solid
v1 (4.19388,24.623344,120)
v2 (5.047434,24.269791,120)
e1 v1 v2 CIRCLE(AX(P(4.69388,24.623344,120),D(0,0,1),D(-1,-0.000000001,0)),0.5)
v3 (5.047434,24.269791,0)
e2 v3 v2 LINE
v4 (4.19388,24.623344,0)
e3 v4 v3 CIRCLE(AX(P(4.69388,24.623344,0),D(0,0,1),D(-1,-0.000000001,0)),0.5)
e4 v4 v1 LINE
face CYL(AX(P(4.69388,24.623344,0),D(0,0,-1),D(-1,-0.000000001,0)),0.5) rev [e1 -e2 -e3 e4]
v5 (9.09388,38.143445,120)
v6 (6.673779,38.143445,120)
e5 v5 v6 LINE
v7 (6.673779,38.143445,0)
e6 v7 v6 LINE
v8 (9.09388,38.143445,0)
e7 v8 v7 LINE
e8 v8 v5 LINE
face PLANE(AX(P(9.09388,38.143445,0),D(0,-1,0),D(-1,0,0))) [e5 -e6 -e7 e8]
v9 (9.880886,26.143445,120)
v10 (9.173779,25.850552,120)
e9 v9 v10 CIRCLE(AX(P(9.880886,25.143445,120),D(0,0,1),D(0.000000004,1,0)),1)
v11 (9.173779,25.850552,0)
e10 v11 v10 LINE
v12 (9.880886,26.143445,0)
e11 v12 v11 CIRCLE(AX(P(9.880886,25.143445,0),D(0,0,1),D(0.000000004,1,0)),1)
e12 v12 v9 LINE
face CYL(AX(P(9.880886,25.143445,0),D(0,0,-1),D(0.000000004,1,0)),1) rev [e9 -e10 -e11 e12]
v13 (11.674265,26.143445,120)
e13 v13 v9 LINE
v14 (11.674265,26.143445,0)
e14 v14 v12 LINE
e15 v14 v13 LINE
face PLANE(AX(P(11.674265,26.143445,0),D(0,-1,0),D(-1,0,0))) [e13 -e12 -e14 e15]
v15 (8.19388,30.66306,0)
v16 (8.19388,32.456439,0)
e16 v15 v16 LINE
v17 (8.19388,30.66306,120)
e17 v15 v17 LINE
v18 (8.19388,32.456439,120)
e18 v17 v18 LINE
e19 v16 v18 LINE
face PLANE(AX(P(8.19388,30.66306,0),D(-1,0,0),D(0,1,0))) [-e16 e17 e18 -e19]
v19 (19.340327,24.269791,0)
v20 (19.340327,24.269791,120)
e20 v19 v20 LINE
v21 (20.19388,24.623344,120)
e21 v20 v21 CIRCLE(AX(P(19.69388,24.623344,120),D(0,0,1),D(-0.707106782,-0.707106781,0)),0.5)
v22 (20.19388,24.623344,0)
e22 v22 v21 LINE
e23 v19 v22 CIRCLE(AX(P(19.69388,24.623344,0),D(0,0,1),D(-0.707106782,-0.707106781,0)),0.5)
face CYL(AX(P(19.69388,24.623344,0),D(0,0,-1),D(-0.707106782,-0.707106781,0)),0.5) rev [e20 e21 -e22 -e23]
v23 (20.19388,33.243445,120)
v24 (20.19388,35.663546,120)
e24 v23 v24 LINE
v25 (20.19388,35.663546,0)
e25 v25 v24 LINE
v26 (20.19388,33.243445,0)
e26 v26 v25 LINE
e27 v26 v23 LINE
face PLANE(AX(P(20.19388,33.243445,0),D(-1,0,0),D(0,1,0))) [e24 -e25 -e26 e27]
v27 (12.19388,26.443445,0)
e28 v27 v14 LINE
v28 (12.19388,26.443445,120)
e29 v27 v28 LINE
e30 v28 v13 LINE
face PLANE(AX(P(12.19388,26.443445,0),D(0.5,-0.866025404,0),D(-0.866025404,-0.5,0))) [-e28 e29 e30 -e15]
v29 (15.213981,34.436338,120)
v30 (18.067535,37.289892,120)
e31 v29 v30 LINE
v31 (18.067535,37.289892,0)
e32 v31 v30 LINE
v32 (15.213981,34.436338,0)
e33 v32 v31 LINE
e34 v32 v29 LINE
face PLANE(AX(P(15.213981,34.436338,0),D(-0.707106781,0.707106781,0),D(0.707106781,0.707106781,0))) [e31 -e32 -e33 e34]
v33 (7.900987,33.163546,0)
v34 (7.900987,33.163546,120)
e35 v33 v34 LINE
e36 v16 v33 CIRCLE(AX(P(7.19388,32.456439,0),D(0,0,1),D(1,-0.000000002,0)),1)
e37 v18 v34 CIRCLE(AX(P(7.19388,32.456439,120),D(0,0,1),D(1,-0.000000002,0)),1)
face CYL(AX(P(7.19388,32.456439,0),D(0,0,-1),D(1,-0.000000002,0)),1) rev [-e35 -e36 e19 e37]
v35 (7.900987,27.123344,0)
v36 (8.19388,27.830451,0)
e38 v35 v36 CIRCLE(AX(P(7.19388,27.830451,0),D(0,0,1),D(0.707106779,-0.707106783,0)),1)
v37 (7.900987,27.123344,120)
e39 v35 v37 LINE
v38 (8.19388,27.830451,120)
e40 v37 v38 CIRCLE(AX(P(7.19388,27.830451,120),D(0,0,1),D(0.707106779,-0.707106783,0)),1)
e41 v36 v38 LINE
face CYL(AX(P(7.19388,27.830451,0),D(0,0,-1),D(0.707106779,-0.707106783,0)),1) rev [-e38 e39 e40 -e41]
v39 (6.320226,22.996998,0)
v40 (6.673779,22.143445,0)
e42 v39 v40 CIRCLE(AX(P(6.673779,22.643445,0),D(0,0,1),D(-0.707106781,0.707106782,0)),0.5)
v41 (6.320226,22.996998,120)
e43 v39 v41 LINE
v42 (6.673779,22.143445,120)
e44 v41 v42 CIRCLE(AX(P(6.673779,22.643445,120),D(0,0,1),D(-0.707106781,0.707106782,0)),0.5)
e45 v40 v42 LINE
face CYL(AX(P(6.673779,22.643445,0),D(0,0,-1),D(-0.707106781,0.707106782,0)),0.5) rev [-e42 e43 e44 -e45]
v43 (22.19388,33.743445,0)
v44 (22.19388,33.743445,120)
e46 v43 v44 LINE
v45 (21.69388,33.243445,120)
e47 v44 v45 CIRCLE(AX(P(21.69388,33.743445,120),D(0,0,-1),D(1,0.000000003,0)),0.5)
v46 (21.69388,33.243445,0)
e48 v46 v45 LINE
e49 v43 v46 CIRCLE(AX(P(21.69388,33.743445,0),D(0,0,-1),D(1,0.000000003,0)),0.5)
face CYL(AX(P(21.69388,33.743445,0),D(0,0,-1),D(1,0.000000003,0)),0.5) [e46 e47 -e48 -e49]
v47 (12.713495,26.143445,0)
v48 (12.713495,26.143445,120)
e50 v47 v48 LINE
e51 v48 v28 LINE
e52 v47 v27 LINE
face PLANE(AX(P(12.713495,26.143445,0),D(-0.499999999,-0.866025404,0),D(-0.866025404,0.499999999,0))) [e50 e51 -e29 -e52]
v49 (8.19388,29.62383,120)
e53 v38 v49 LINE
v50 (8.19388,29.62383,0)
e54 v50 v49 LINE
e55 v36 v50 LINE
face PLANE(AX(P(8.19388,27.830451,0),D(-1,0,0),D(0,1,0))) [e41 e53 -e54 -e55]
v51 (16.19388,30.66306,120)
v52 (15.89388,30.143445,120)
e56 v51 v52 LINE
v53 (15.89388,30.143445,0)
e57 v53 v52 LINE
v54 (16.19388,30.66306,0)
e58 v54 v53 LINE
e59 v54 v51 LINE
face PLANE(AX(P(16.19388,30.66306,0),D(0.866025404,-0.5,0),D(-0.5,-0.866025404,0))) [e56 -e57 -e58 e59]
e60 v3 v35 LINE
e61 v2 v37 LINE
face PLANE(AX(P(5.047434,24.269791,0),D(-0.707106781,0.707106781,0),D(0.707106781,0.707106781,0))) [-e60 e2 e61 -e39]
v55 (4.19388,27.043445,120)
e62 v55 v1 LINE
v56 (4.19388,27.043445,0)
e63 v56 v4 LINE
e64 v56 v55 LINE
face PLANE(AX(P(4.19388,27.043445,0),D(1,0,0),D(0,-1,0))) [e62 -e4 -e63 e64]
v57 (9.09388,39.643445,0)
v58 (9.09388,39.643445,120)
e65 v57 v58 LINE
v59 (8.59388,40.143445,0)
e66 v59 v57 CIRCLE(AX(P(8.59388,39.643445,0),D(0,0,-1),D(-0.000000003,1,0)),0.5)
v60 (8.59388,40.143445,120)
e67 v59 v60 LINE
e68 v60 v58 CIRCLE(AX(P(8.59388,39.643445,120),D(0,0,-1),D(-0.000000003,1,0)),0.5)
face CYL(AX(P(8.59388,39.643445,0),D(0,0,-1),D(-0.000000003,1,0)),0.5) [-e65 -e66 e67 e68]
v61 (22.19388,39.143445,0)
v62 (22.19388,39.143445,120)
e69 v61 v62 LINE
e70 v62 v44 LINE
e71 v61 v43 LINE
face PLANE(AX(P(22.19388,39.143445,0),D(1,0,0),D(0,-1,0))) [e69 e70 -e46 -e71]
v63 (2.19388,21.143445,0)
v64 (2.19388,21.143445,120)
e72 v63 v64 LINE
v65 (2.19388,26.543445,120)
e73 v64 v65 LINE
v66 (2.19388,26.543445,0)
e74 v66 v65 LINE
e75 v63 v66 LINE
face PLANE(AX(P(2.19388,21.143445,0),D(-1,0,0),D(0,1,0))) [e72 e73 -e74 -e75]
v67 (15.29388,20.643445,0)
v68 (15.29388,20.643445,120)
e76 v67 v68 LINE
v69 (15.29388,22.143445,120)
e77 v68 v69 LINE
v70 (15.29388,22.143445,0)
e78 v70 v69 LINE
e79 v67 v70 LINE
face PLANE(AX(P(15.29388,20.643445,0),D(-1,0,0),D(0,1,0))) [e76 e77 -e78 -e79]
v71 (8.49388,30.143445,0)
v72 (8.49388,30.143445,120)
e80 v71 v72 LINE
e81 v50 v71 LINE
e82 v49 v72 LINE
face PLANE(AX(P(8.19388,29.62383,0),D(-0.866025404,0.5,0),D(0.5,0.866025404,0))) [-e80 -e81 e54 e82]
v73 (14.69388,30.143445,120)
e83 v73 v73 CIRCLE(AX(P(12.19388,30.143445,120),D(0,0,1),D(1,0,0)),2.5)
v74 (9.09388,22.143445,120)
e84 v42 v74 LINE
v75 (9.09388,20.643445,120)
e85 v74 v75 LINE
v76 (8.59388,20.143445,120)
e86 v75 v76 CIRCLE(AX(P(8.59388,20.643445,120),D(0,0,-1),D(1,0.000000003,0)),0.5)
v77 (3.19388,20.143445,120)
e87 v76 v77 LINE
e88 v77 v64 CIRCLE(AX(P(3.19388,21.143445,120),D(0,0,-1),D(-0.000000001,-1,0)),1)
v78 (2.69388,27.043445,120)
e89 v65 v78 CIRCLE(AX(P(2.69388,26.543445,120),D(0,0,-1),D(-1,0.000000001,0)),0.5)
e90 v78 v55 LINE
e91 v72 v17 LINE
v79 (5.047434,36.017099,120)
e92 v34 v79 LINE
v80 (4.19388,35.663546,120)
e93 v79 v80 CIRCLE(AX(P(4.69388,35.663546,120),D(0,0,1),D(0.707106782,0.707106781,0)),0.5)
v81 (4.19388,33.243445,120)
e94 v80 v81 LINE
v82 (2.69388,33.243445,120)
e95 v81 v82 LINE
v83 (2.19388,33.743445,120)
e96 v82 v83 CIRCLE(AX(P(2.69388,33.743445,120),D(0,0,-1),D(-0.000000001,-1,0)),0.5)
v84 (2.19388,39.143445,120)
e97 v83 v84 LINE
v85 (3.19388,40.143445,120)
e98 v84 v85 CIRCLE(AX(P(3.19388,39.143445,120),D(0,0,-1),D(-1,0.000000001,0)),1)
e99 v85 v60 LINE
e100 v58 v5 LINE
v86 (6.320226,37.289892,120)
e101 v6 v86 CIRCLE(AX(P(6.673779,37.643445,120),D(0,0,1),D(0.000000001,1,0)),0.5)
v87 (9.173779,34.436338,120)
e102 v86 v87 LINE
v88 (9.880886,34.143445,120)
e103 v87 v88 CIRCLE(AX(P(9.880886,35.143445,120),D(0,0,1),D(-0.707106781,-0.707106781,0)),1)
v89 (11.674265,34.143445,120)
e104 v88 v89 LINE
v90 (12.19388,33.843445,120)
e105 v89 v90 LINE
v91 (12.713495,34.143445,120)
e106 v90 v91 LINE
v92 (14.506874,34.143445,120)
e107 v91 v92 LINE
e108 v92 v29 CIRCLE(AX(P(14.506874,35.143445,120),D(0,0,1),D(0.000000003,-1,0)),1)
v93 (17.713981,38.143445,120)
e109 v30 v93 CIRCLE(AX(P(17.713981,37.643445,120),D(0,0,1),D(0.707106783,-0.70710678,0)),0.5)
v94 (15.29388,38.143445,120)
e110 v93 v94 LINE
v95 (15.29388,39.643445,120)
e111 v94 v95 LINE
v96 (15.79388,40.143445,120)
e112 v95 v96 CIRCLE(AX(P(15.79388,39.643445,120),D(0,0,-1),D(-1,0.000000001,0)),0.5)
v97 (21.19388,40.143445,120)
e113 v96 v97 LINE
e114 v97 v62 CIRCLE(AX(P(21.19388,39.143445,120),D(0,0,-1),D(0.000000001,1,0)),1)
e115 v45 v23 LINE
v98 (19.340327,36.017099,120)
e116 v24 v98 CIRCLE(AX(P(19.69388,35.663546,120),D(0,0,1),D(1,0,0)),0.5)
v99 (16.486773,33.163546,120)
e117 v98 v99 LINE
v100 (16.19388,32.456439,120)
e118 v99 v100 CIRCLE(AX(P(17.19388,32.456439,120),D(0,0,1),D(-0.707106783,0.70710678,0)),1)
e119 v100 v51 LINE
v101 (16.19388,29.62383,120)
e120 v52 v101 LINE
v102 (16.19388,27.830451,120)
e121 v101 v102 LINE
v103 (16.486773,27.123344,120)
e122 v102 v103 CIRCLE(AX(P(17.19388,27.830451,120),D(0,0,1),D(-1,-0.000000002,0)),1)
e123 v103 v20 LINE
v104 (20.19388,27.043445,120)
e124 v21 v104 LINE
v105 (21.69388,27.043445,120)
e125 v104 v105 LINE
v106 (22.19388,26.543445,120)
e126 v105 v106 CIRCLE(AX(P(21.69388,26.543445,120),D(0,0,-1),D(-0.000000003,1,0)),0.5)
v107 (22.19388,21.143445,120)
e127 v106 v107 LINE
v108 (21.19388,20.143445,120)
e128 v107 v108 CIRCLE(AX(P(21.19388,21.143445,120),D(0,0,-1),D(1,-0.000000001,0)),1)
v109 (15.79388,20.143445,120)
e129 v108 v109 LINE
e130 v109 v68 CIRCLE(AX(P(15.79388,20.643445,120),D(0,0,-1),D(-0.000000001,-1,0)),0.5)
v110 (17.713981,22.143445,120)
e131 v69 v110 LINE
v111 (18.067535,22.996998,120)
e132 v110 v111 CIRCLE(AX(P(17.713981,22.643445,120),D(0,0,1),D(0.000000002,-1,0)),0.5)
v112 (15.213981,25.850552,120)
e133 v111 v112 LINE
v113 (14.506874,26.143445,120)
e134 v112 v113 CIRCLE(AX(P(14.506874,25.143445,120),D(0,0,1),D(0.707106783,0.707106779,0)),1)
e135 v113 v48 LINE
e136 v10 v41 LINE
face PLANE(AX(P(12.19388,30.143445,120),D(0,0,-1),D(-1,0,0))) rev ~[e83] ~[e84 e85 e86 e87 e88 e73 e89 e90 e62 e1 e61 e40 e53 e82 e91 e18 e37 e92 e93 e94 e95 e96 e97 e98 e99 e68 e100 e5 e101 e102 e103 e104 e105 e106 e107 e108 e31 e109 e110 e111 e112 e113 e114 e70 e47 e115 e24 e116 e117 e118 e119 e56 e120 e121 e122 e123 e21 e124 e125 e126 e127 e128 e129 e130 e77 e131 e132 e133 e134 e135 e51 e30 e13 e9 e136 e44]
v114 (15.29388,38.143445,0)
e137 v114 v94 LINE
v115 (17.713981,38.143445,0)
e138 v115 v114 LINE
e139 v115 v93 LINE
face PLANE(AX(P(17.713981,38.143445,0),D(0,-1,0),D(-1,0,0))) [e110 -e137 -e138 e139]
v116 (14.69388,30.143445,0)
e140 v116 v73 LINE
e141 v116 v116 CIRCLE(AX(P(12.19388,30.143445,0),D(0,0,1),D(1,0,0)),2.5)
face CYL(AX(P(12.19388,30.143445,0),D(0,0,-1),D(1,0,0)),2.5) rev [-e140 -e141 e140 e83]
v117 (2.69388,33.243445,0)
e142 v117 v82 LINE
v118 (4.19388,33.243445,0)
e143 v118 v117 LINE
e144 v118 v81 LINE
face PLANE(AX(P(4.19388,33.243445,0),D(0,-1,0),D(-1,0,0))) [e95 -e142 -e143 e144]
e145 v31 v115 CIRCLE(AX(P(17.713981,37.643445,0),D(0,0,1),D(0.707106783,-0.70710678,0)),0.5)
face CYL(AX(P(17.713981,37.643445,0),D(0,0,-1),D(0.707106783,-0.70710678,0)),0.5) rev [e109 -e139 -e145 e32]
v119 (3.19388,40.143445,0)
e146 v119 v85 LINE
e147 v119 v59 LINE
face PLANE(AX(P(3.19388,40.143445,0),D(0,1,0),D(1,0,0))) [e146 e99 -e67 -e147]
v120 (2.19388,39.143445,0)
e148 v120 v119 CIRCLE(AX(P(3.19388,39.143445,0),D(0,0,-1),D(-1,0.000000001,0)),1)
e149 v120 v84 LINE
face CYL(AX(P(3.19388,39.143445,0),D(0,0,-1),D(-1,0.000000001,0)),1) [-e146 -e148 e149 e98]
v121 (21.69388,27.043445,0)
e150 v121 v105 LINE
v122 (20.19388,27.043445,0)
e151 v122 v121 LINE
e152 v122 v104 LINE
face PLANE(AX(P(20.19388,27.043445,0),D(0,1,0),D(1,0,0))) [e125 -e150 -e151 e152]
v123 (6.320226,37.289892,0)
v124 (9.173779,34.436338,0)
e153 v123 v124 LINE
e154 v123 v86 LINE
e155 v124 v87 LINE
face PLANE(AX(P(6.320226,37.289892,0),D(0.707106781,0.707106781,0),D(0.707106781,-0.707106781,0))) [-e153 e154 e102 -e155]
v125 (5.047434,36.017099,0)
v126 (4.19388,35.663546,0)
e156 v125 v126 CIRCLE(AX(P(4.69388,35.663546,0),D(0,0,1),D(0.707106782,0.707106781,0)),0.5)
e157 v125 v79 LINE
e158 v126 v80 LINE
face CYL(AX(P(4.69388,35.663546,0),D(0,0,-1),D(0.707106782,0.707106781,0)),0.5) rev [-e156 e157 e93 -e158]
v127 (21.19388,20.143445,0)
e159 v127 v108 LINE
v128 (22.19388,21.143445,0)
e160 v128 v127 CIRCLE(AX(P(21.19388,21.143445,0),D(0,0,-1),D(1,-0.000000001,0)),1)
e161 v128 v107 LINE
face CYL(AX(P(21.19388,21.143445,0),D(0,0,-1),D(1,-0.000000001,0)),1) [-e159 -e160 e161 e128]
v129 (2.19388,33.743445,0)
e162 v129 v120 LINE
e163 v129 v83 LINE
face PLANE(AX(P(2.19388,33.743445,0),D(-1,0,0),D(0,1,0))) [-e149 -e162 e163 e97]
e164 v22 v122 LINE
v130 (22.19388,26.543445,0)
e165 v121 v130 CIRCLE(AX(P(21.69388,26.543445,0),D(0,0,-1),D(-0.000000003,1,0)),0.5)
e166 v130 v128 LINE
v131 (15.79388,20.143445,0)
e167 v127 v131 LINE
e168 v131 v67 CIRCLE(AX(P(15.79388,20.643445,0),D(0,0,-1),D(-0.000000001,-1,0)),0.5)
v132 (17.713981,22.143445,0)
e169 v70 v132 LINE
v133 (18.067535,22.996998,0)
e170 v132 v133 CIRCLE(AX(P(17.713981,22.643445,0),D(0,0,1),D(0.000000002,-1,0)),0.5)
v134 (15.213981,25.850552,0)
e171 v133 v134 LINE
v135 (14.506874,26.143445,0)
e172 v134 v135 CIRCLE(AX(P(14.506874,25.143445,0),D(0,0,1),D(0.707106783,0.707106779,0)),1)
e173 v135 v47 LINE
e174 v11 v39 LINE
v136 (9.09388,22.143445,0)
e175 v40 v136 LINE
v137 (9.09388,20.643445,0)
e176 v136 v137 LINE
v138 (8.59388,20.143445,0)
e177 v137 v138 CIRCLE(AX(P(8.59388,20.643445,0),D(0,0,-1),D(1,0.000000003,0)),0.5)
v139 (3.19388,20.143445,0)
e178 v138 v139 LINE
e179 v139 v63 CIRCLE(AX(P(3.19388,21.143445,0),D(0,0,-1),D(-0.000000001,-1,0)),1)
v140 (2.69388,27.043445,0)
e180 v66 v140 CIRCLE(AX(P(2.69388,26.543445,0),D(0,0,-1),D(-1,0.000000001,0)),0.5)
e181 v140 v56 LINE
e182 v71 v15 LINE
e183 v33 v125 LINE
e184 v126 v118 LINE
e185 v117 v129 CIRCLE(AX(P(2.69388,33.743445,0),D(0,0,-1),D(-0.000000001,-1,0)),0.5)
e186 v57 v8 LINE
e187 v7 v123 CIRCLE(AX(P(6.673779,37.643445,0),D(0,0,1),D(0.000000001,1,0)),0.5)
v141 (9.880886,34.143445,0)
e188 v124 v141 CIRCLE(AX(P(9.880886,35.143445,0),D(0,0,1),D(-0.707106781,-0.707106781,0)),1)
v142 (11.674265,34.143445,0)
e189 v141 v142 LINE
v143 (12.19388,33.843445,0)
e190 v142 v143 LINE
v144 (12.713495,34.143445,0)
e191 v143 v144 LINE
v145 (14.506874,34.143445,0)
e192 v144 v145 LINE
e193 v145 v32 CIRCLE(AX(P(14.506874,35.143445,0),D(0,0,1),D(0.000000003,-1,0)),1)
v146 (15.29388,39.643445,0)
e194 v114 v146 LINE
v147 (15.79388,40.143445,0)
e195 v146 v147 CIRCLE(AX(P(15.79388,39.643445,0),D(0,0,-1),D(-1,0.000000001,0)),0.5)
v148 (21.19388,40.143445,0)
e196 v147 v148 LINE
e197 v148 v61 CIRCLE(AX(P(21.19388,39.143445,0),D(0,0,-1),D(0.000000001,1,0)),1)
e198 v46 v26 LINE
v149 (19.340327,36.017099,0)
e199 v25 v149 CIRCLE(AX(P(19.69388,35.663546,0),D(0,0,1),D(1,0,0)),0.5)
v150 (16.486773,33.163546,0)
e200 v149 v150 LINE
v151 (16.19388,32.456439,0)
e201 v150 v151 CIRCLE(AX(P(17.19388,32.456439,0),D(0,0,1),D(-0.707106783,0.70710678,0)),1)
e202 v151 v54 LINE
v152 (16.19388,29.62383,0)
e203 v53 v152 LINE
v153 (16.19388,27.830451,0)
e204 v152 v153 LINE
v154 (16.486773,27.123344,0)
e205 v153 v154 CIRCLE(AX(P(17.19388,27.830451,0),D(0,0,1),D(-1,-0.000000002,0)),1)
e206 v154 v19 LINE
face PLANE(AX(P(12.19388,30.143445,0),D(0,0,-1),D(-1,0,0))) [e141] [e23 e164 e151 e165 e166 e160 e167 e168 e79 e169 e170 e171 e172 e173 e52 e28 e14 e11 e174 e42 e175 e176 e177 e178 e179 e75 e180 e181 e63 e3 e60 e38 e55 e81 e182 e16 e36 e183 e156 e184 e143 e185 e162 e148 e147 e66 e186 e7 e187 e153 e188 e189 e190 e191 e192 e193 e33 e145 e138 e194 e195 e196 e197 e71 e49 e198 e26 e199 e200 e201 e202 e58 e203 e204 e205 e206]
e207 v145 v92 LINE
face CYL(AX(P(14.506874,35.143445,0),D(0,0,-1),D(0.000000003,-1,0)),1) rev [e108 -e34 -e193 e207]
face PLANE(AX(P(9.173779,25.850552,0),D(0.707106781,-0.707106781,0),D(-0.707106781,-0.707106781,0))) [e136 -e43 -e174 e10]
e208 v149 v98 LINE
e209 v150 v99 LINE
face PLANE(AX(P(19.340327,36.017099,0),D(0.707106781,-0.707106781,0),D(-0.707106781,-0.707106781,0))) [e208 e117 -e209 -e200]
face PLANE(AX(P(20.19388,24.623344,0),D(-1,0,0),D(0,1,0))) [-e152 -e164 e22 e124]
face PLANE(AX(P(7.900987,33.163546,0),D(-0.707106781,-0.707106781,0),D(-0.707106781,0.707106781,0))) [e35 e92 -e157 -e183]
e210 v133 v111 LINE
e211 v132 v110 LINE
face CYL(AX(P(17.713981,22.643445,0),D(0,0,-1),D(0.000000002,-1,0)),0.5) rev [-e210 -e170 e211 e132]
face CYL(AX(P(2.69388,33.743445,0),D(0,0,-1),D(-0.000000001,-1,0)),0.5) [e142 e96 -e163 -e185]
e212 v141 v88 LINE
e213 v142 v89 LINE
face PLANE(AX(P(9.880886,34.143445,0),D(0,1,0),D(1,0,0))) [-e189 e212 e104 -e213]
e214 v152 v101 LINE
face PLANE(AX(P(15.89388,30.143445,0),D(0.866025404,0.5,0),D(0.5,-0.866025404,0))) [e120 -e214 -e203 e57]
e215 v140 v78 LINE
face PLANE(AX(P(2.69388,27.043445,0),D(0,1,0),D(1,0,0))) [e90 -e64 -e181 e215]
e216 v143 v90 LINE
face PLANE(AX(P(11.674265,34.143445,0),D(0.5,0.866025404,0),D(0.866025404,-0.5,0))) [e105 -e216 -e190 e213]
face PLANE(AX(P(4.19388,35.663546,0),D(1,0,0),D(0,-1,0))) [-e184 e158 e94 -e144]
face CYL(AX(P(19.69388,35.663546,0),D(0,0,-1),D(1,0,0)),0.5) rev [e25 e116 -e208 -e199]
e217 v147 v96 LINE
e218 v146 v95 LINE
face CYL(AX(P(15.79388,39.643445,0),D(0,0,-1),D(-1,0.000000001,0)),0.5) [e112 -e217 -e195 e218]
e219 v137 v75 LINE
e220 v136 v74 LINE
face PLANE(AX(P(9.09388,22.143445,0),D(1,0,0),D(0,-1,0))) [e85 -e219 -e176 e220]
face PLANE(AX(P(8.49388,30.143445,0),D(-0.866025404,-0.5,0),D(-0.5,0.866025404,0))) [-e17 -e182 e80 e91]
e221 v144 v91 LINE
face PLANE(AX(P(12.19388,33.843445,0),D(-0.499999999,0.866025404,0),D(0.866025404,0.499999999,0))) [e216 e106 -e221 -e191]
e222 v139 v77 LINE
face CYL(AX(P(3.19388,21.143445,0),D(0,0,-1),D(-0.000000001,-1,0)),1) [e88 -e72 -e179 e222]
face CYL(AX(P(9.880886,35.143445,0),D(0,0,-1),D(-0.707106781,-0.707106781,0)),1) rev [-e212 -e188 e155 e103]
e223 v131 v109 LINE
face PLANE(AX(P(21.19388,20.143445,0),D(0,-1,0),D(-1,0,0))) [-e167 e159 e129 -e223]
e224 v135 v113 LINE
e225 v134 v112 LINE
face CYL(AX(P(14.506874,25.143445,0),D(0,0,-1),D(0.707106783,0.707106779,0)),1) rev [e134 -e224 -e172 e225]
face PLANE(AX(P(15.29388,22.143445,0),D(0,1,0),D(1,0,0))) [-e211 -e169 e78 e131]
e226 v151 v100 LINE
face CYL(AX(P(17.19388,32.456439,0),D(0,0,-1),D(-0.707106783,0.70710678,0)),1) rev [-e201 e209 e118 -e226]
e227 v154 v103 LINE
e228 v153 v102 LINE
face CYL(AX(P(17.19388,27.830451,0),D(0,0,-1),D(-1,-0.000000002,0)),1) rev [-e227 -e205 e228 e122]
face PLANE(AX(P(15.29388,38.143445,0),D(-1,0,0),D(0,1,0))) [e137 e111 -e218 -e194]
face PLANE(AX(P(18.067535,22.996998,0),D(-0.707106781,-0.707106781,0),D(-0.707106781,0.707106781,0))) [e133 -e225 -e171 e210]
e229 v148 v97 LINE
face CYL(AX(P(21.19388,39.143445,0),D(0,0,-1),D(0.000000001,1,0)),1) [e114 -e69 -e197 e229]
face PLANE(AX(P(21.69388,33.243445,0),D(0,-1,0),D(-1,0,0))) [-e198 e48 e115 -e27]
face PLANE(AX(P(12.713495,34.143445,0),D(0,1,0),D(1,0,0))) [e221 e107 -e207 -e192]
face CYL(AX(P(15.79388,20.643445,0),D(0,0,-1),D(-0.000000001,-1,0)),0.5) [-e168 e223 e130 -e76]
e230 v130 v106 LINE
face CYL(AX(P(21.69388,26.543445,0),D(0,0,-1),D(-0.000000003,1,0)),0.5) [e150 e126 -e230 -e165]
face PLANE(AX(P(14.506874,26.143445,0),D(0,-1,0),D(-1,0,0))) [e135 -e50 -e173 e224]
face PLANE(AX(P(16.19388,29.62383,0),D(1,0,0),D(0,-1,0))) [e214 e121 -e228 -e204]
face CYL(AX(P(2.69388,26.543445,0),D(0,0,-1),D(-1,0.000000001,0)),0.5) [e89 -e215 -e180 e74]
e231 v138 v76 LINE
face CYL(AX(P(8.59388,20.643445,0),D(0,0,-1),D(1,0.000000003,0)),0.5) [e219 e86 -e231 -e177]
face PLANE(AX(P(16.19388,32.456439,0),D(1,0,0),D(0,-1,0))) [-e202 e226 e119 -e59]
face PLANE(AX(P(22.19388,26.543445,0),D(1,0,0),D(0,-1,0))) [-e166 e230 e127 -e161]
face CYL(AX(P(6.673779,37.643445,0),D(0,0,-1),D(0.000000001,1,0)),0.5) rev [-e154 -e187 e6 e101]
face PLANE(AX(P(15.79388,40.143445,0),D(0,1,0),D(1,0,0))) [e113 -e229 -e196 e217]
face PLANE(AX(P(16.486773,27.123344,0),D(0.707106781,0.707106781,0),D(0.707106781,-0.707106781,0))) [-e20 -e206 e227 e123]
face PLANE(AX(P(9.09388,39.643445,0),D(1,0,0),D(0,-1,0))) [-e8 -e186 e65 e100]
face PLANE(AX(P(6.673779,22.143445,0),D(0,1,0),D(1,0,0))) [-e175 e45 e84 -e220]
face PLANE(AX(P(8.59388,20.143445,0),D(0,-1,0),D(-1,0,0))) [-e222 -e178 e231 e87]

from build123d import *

# Parameters (mm, degrees)
SKETCH_1_R      = 2.5
EXTRUDE_1_DEPTH = 120


with BuildPart() as part:
    # 草图1 → 凸台-拉伸1 (new body)
    with BuildSketch(Plane.XY):
        with BuildLine():
            Line((16.486773435, 27.123343944), (19.340326826, 24.269790554))
            ThreePointArc((19.340326826, 24.269790554), (19.885221932, 24.161404178), (20.193880216, 24.623343944))
            Line((20.193880216, 24.623343944), (20.193880216, 27.043444957))
            Line((20.193880216, 27.043444957), (21.693880216, 27.043444957))
            ThreePointArc((21.693880216, 27.043444957), (22.047433607, 26.896998348), (22.193880216, 26.543444957))
            Line((22.193880216, 26.543444957), (22.193880216, 21.143444957))
            ThreePointArc((22.193880216, 21.143444957), (21.900986997, 20.436338176), (21.193880216, 20.143444957))
            Line((21.193880216, 20.143444957), (15.793880216, 20.143444957))
            ThreePointArc((15.793880216, 20.143444957), (15.440326826, 20.289891566), (15.293880216, 20.643444957))
            Line((15.293880216, 20.643444957), (15.293880216, 22.143444957))
            Line((15.293880216, 22.143444957), (17.713981229, 22.143444957))
            ThreePointArc((17.713981229, 22.143444957), (18.175920995, 22.452103241), (18.06753462, 22.996998348))
            Line((18.06753462, 22.996998348), (15.213981229, 25.850551738))
            ThreePointArc((15.213981229, 25.850551738), (14.88955788, 26.06732449), (14.506874448, 26.143444957))
            Line((14.506874448, 26.143444957), (12.713495459, 26.143444957))
            Line((12.713495459, 26.143444957), (12.193880216, 26.443444957))
            Line((12.193880216, 26.443444957), (11.674264974, 26.143444957))
            Line((11.674264974, 26.143444957), (9.880885985, 26.143444957))
            ThreePointArc((9.880885985, 26.143444957), (9.498202552, 26.06732449), (9.173779204, 25.850551738))
            Line((9.173779204, 25.850551738), (6.320225813, 22.996998348))
            ThreePointArc((6.320225813, 22.996998348), (6.211839437, 22.452103241), (6.673779204, 22.143444957))
            Line((6.673779204, 22.143444957), (9.093880216, 22.143444957))
            Line((9.093880216, 22.143444957), (9.093880216, 20.643444957))
            ThreePointArc((9.093880216, 20.643444957), (8.947433607, 20.289891566), (8.593880216, 20.143444957))
            Line((8.593880216, 20.143444957), (3.193880216, 20.143444957))
            ThreePointArc((3.193880216, 20.143444957), (2.486773435, 20.436338176), (2.193880216, 21.143444957))
            Line((2.193880216, 21.143444957), (2.193880216, 26.543444957))
            ThreePointArc((2.193880216, 26.543444957), (2.340326826, 26.896998348), (2.693880216, 27.043444957))
            Line((2.693880216, 27.043444957), (4.193880216, 27.043444957))
            Line((4.193880216, 27.043444957), (4.193880216, 24.623343944))
            ThreePointArc((4.193880216, 24.623343944), (4.5025385, 24.161404178), (5.047433607, 24.269790554))
            Line((5.047433607, 24.269790554), (7.900986997, 27.123343944))
            ThreePointArc((7.900986997, 27.123343944), (8.117759749, 27.447767293), (8.193880216, 27.830450726))
            Line((8.193880216, 27.830450726), (8.193880216, 29.623829715))
            Line((8.193880216, 29.623829715), (8.493880216, 30.143444957))
            Line((8.493880216, 30.143444957), (8.193880216, 30.663060199))
            Line((8.193880216, 30.663060199), (8.193880216, 32.456439189))
            ThreePointArc((8.193880216, 32.456439189), (8.117759749, 32.839122621), (7.900986997, 33.16354597))
            Line((7.900986997, 33.16354597), (5.047433607, 36.01709936))
            ThreePointArc((5.047433607, 36.01709936), (4.5025385, 36.125485736), (4.193880216, 35.66354597))
            Line((4.193880216, 35.66354597), (4.193880216, 33.243444957))
            Line((4.193880216, 33.243444957), (2.693880216, 33.243444957))
            ThreePointArc((2.693880216, 33.243444957), (2.340326826, 33.389891566), (2.193880216, 33.743444957))
            Line((2.193880216, 33.743444957), (2.193880216, 39.143444957))
            ThreePointArc((2.193880216, 39.143444957), (2.486773435, 39.850551738), (3.193880216, 40.143444957))
            Line((3.193880216, 40.143444957), (8.593880216, 40.143444957))
            ThreePointArc((8.593880216, 40.143444957), (8.947433607, 39.996998348), (9.093880216, 39.643444957))
            Line((9.093880216, 39.643444957), (9.093880216, 38.143444957))
            Line((9.093880216, 38.143444957), (6.673779204, 38.143444957))
            ThreePointArc((6.673779204, 38.143444957), (6.211839437, 37.834786673), (6.320225813, 37.289891566))
            Line((6.320225813, 37.289891566), (9.173779204, 34.436338176))
            ThreePointArc((9.173779204, 34.436338176), (9.498202552, 34.219565425), (9.880885985, 34.143444957))
            Line((9.880885985, 34.143444957), (11.674264974, 34.143444957))
            Line((11.674264974, 34.143444957), (12.193880216, 33.843444957))
            Line((12.193880216, 33.843444957), (12.713495459, 34.143444957))
            Line((12.713495459, 34.143444957), (14.506874448, 34.143444957))
            ThreePointArc((14.506874448, 34.143444957), (14.88955788, 34.219565425), (15.213981229, 34.436338176))
            Line((15.213981229, 34.436338176), (18.06753462, 37.289891566))
            ThreePointArc((18.06753462, 37.289891566), (18.175920995, 37.834786673), (17.713981229, 38.143444957))
            Line((17.713981229, 38.143444957), (15.293880216, 38.143444957))
            Line((15.293880216, 38.143444957), (15.293880216, 39.643444957))
            ThreePointArc((15.293880216, 39.643444957), (15.440326826, 39.996998348), (15.793880216, 40.143444957))
            Line((15.793880216, 40.143444957), (21.193880216, 40.143444957))
            ThreePointArc((21.193880216, 40.143444957), (21.900986997, 39.850551738), (22.193880216, 39.143444957))
            Line((22.193880216, 39.143444957), (22.193880216, 33.743444957))
            ThreePointArc((22.193880216, 33.743444957), (22.047433607, 33.389891566), (21.693880216, 33.243444957))
            Line((21.693880216, 33.243444957), (20.193880216, 33.243444957))
            Line((20.193880216, 33.243444957), (20.193880216, 35.66354597))
            ThreePointArc((20.193880216, 35.66354597), (19.885221932, 36.125485736), (19.340326826, 36.01709936))
            Line((19.340326826, 36.01709936), (16.486773435, 33.16354597))
            ThreePointArc((16.486773435, 33.16354597), (16.270000684, 32.839122621), (16.193880216, 32.456439189))
            Line((16.193880216, 32.456439189), (16.193880216, 30.663060199))
            Line((16.193880216, 30.663060199), (15.893880216, 30.143444957))
            Line((15.893880216, 30.143444957), (16.193880216, 29.623829715))
            Line((16.193880216, 29.623829715), (16.193880216, 27.830450726))
            ThreePointArc((16.193880216, 27.830450726), (16.270000684, 27.447767293), (16.486773435, 27.123343944))
        make_face()
        with Locations((12.193880216, 30.143444957)):
            Circle(SKETCH_1_R, mode=Mode.SUBTRACT)
    extrude(amount=EXTRUDE_1_DEPTH)


solid = part.part
